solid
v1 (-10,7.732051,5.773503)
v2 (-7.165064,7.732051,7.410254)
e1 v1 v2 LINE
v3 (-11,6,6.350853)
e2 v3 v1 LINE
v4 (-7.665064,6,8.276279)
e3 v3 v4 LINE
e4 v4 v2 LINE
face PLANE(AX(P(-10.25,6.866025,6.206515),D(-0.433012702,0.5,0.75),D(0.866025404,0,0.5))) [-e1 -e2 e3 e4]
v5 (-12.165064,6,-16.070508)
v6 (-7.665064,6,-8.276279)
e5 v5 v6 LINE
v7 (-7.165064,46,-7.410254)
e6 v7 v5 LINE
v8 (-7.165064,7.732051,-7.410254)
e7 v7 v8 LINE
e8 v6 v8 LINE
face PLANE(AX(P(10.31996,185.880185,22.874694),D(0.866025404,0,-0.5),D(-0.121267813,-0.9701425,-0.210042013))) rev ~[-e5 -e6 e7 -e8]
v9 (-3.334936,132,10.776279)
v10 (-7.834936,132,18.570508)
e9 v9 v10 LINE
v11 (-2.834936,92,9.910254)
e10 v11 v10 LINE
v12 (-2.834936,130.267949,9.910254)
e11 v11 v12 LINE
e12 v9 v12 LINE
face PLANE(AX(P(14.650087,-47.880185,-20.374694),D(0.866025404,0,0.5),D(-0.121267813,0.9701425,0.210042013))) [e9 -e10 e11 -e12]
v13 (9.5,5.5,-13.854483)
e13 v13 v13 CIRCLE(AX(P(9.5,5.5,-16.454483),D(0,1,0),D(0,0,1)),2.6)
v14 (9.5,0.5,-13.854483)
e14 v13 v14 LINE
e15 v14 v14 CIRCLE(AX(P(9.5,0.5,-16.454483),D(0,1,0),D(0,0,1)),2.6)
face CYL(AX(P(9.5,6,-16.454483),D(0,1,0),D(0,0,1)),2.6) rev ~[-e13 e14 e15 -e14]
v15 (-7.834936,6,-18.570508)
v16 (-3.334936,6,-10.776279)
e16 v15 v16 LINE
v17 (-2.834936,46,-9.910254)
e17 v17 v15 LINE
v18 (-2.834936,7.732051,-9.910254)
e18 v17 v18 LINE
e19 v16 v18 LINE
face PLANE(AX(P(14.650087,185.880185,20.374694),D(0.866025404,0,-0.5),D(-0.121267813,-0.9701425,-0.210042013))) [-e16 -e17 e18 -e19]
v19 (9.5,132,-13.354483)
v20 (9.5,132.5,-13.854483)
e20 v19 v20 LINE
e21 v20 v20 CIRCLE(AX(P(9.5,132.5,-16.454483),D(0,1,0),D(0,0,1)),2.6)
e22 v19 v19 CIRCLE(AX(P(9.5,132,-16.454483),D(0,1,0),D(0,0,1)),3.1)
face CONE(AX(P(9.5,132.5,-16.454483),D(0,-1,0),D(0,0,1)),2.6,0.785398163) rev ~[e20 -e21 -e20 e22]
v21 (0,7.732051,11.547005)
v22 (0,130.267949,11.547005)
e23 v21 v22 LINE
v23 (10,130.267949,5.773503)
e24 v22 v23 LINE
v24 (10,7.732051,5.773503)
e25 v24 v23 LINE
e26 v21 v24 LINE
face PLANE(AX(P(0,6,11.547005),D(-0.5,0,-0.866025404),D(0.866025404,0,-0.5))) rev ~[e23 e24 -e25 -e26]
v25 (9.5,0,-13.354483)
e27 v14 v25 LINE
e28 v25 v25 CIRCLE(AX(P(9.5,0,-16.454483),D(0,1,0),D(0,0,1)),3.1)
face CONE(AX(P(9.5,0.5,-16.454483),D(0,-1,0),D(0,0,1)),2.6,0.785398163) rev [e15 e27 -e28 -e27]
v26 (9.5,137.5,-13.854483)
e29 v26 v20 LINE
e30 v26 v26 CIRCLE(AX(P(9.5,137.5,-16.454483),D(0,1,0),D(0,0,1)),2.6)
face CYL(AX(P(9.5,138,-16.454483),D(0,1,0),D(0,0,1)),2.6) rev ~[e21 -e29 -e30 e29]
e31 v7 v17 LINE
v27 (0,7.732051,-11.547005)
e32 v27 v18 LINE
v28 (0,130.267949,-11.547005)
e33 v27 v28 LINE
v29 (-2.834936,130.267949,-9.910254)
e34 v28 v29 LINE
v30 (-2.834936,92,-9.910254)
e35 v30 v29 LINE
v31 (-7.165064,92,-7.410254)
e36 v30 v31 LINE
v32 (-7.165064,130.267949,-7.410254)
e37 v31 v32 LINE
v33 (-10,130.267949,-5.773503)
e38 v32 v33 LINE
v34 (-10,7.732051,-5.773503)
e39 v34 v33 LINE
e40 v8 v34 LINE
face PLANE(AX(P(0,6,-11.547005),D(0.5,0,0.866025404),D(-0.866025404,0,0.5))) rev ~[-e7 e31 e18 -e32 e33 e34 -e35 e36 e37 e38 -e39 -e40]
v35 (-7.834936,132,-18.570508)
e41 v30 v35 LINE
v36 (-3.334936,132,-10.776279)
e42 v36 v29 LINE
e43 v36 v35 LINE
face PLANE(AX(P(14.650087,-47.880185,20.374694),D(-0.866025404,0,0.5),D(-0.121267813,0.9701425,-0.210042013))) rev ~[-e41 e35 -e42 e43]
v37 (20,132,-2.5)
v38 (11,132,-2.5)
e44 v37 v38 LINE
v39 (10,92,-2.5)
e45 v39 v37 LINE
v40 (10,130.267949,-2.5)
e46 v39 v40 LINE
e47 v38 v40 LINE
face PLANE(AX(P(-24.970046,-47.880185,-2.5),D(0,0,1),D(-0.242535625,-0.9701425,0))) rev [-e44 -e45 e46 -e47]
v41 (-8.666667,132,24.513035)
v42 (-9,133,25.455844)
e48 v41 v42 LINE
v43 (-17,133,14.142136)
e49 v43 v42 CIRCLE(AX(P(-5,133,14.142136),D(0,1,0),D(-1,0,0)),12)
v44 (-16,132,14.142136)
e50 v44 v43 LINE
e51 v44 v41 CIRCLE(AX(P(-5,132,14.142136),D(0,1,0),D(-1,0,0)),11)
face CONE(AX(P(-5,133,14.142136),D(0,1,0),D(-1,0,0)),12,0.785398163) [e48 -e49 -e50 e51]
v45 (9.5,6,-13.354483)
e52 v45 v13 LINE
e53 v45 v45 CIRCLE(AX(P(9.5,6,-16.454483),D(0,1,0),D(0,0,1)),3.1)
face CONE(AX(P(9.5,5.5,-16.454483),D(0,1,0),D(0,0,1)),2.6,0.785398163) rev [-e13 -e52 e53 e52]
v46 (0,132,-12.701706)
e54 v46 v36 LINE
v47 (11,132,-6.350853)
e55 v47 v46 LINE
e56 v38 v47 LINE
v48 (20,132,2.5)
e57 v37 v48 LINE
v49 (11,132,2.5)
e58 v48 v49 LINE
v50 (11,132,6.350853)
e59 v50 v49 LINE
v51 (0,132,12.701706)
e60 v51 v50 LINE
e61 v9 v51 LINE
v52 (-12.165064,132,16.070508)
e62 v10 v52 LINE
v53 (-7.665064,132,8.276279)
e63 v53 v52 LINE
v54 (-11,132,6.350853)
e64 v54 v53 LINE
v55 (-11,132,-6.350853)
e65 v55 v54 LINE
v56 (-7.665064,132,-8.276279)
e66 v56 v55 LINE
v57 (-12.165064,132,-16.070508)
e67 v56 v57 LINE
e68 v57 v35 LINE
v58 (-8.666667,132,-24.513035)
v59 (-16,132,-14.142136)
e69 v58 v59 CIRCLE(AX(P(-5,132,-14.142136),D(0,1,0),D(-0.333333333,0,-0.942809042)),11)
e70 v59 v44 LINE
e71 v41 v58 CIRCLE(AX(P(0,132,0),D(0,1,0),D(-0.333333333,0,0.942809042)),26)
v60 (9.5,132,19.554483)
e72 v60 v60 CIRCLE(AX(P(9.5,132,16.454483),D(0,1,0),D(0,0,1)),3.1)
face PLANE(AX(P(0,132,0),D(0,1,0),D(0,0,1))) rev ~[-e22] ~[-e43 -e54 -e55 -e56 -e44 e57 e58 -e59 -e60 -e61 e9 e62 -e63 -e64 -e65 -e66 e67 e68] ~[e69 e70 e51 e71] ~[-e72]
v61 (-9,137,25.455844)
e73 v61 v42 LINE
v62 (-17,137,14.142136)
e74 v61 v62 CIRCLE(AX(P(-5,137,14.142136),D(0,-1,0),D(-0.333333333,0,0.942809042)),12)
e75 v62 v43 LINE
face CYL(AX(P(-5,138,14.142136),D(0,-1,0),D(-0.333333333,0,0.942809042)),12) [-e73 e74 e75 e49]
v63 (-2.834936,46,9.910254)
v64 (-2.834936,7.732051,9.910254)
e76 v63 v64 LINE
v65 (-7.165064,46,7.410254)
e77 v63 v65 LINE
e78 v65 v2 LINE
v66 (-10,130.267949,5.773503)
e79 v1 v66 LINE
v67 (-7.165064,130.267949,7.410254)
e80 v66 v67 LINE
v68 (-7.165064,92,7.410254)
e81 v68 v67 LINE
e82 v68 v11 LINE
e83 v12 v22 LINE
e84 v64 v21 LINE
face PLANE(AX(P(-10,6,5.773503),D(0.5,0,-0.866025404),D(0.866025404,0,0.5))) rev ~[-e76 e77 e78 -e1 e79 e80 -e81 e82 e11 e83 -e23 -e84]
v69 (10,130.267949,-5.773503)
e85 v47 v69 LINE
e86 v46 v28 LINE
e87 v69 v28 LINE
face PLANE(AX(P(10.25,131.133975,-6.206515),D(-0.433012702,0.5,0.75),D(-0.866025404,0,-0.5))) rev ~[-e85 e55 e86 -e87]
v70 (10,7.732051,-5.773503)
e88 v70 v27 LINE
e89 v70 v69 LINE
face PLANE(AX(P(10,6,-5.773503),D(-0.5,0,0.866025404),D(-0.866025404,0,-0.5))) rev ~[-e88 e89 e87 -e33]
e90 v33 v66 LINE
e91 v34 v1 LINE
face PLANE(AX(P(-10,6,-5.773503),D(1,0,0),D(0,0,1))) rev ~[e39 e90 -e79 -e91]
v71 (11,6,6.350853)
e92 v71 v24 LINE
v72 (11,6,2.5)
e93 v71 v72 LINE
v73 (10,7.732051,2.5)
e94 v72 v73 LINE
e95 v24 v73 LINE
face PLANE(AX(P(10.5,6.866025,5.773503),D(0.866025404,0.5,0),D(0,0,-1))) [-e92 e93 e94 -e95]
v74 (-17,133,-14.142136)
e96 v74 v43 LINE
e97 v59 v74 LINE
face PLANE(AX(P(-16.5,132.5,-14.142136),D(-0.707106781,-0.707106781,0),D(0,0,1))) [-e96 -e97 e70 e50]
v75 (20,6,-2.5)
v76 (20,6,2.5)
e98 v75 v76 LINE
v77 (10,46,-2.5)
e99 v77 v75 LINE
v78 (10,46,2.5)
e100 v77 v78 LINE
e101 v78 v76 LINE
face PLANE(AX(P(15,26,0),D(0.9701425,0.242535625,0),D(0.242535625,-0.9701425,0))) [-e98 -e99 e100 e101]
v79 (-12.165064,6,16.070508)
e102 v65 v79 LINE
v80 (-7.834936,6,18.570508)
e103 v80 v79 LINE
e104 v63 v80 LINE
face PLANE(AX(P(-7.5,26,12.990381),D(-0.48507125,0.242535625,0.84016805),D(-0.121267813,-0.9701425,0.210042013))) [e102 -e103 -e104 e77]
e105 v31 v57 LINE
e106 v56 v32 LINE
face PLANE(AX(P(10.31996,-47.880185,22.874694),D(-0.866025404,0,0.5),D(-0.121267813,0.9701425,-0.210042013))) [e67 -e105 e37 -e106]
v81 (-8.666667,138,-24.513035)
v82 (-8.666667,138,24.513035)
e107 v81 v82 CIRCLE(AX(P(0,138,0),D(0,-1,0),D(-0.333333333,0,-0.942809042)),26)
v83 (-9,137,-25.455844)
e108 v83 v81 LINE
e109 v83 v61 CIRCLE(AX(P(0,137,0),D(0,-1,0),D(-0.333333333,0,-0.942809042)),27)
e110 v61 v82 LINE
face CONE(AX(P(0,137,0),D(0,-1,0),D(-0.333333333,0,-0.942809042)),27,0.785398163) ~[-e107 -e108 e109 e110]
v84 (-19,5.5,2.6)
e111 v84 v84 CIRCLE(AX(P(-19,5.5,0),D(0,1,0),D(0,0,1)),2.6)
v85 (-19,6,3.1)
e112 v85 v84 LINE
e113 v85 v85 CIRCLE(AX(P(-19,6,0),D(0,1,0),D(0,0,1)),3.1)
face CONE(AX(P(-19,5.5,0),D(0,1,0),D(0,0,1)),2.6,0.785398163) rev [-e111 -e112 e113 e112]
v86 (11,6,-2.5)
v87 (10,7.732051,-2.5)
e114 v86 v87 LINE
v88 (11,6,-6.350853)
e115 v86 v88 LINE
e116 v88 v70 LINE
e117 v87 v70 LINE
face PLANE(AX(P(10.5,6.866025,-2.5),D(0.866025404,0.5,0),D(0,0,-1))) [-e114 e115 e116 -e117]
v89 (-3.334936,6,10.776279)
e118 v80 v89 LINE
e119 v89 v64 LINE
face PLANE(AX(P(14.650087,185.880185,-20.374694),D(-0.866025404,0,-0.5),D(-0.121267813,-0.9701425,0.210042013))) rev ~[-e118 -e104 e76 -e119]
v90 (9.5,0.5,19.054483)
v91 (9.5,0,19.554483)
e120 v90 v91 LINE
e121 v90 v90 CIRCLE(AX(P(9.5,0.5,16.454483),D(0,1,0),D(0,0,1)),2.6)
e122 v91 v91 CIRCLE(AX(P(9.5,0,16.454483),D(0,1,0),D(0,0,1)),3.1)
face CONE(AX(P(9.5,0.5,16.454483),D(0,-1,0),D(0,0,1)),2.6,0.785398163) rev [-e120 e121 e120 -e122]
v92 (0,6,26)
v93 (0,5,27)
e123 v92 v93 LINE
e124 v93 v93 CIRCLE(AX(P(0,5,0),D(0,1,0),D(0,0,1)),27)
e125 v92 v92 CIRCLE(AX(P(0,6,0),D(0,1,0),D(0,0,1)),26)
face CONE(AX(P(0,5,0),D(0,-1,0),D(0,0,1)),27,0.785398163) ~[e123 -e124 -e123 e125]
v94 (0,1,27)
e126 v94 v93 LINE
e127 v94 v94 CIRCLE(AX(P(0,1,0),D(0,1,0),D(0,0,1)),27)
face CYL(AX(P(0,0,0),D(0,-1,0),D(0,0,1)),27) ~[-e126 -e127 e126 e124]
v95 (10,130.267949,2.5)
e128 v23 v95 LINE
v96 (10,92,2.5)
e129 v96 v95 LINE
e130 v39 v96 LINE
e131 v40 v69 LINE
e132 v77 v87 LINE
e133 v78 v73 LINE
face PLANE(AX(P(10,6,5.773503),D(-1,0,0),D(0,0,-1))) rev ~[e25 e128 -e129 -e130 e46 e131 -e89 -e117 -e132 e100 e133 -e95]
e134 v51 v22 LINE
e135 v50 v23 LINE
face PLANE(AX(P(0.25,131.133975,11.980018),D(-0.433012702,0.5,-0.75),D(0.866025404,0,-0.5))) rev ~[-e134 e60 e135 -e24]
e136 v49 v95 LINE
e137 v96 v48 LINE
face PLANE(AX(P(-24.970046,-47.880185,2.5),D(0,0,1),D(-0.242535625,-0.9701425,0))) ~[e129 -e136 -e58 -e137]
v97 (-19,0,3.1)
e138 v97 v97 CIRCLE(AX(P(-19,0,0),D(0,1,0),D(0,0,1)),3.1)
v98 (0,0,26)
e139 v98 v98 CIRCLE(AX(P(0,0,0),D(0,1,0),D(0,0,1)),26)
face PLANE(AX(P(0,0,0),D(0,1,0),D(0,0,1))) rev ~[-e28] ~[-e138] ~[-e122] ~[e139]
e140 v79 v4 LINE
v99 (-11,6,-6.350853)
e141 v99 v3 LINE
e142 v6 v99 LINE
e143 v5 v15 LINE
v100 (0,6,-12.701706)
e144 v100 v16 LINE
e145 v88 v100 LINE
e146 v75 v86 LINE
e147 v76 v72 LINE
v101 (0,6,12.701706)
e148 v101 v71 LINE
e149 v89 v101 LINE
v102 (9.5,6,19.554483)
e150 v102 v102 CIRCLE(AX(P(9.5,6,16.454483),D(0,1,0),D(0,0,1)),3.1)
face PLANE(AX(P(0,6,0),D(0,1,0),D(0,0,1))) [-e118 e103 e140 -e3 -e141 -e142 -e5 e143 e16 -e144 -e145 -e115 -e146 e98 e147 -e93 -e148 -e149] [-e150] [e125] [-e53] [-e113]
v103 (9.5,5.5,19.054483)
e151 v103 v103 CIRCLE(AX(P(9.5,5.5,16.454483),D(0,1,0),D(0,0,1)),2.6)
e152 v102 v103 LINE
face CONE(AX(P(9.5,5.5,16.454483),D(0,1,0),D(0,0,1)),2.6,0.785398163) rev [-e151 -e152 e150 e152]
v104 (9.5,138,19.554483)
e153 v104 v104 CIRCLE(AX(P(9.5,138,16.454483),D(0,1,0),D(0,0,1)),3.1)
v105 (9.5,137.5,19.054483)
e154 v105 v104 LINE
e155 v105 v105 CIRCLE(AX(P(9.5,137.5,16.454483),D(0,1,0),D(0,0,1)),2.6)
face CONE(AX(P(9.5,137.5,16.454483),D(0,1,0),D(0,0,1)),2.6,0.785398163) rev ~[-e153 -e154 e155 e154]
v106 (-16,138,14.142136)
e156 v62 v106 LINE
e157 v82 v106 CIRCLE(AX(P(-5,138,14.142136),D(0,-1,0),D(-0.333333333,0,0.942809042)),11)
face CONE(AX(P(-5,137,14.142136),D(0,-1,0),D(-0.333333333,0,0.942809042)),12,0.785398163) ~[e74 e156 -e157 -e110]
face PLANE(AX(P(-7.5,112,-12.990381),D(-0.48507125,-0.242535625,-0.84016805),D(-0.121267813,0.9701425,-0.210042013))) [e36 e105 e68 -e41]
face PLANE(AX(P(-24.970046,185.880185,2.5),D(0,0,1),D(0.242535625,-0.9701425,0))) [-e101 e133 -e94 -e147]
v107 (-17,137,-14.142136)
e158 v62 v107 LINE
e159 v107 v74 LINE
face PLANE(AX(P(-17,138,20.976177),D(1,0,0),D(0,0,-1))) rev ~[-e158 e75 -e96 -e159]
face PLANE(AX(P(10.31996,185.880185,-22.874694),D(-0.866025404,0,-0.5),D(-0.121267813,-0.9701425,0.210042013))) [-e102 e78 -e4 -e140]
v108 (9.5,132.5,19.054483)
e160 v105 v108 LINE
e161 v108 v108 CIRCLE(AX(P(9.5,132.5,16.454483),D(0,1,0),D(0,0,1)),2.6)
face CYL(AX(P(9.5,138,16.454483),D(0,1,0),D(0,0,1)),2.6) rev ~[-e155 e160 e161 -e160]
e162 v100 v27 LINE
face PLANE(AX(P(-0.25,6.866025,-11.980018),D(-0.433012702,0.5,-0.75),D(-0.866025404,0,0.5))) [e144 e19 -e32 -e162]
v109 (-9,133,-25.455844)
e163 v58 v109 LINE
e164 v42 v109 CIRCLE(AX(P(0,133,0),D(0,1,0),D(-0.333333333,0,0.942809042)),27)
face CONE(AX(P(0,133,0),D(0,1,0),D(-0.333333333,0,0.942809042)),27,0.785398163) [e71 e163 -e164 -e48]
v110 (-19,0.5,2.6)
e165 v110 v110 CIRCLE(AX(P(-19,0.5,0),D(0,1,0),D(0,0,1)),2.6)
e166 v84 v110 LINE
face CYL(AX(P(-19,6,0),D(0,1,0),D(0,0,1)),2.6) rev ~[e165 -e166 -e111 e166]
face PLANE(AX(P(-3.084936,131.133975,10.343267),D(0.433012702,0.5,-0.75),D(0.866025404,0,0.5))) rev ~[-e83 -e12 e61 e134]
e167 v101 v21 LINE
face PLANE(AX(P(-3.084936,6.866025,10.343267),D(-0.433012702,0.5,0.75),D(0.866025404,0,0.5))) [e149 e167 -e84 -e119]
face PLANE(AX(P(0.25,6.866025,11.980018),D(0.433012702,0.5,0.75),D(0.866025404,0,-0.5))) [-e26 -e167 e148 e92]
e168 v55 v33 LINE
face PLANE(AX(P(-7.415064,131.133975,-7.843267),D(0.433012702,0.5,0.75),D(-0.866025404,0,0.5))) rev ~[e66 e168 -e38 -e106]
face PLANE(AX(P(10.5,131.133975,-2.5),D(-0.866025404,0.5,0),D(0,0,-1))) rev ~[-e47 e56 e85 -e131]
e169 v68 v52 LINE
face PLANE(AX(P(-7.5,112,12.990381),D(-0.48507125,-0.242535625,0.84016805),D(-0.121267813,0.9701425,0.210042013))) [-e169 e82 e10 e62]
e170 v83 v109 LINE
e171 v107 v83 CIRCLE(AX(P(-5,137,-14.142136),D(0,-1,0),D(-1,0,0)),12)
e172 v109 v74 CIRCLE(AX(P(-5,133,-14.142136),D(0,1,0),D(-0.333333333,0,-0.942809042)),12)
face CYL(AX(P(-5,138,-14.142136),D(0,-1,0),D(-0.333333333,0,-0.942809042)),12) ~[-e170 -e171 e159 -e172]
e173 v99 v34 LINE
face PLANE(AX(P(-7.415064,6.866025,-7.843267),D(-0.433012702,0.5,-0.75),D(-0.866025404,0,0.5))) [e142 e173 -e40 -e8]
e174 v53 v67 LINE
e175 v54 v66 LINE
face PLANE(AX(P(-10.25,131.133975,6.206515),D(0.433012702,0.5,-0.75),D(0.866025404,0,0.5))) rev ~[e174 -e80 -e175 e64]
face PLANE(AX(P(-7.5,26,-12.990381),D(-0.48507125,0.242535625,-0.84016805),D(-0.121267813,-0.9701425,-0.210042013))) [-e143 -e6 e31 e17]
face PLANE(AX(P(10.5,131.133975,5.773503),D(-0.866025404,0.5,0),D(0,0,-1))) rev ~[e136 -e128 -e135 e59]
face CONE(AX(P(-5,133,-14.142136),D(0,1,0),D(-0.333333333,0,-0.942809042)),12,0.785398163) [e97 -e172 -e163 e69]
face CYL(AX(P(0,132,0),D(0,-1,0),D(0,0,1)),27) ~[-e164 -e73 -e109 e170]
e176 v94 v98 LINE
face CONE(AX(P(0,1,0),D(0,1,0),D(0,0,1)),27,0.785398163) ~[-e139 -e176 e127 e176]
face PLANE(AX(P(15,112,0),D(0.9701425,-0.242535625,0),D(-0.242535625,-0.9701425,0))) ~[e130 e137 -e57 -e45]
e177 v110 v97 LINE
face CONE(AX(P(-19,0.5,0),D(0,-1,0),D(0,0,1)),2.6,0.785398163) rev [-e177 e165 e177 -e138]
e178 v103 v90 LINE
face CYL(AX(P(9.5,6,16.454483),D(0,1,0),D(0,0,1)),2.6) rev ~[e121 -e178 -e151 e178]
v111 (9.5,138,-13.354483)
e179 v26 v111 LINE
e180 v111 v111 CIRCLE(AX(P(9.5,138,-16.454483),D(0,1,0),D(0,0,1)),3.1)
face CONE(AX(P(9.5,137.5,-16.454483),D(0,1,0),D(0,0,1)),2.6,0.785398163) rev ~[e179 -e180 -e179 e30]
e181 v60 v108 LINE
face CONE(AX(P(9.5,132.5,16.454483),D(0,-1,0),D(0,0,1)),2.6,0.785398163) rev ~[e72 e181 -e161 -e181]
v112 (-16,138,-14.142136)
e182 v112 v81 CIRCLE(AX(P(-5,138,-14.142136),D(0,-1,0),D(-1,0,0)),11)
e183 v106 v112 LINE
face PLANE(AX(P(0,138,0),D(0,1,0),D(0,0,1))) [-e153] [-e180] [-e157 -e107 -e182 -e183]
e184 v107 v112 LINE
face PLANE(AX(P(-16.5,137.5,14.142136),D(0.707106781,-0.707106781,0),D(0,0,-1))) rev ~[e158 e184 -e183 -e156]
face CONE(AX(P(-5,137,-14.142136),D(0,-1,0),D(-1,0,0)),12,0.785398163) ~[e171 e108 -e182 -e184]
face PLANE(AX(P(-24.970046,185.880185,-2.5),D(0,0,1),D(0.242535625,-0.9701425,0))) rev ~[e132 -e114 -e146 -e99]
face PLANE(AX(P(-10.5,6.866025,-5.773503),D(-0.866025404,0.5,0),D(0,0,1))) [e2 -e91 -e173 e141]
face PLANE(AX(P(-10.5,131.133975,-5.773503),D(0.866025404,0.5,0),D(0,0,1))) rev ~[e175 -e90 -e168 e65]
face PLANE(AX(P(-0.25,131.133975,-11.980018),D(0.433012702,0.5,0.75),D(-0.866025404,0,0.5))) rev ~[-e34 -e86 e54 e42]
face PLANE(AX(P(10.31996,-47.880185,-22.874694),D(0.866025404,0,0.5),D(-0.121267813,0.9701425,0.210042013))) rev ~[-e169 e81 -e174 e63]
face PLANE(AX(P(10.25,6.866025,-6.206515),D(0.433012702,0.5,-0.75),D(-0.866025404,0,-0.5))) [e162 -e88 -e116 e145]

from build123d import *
from OCP.BRepFilletAPI import BRepFilletAPI_MakeChamfer

# Parameters (mm, degrees)
SKETCH3_R               = 27
BOSS_EXTRUDE1_DEPTH     = 6
BOSS_EXTRUDE2_DEPTH     = 126
SKETCH19_R              = 27
BOSS_EXTRUDE3_DEPTH     = 6
CUT_EXTRUDE5_REACH      = 139.412
SKETCH13_R              = 2.6
CUT_EXTRUDE6_REACH      = 145.185
SKETCH20_R              = 2.6
CUT_EXTRUDE7_REACH      = 145.185
SKETCH21_W              = 10
SKETCH21_H              = 41.952353926
RIB3_REACH              = 145.185
SKETCH18_WALL_W         = 329.601445786
SKETCH18_WALL_H         = 5
CIRPATTERN1_COUNT       = 3
MIRROR2_COPY_1_REACH    = 145.185
MIRROR2_COPY_1_SKETCH_W = 329.601445786
MIRROR2_COPY_1_SKETCH_H = 5
MIRROR2_COPY_2_REACH    = 145.185
MIRROR2_COPY_2_SKETCH_W = 329.601445786
MIRROR2_COPY_2_SKETCH_H = 5
FILLET1_R               = 12
CHAMFER1_SIZE           = 1
CHAMFER1_SIZE2          = 1.732050808
CHAMFER2_SIZE           = 1
CHAMFER3_SIZE           = 0.5


with BuildPart() as part:
    # Sketch3 → Boss-Extrude1 (new body)
    with BuildSketch(Plane(origin=(0, 0, 0), x_dir=(1, 0, 0), z_dir=(0, 1, 0))):
        with Locations(Location((0, 0, 0), (0, 0, 270))):
            Circle(SKETCH3_R)
    extrude(amount=BOSS_EXTRUDE1_DEPTH)

    # Sketch4 → Boss-Extrude2 (add)
    with BuildSketch(Plane(origin=(0, 6, 0), x_dir=(1, 0, 0), z_dir=(0, 1, 0))):
        Polygon((10, -5.773502692), (10, 5.773502692), (0, 11.547005384), (-10, 5.773502692), (-10, -5.773502692), (0, -11.547005384), align=None)
    extrude(amount=BOSS_EXTRUDE2_DEPTH)

    # Sketch19 → Boss-Extrude3 (add)
    with BuildSketch(Plane(origin=(0, 132, 0), x_dir=(1, 0, 0), z_dir=(0, 1, 0))):
        with Locations(Location((0, 0, 0), (0, 0, 270))):
            Circle(SKETCH19_R)
    extrude(amount=BOSS_EXTRUDE3_DEPTH)

    # Sketch13 → Cut-Extrude5 (cut, up to next)
    with BuildSketch(Plane(origin=(0, 6, 0), x_dir=(1, 0, 0), z_dir=(0, 1, 0)), mode=Mode.PRIVATE) as cut_extrude5_sk1:
        with Locations(Location((-19, 0, 0), (0, 0, 270))):
            Circle(SKETCH13_R)
    cut_extrude5_tool1 = extrude(cut_extrude5_sk1.sketch, amount=-CUT_EXTRUDE5_REACH, mode=Mode.PRIVATE) & part.part
    # Sketch13 → Cut-Extrude5 (cut, up to next)
    with BuildSketch(Plane(origin=(0, 6, 0), x_dir=(1, 0, 0), z_dir=(0, 1, 0)), mode=Mode.PRIVATE) as cut_extrude5_sk2:
        with Locations(Location((9.5, 16.454482672, 0), (0, 0, 270))):
            Circle(SKETCH13_R)
    cut_extrude5_tool2 = extrude(cut_extrude5_sk2.sketch, amount=-CUT_EXTRUDE5_REACH, mode=Mode.PRIVATE) & part.part
    # Sketch13 → Cut-Extrude5 (cut, up to next)
    with BuildSketch(Plane(origin=(0, 6, 0), x_dir=(1, 0, 0), z_dir=(0, 1, 0)), mode=Mode.PRIVATE) as cut_extrude5_sk3:
        with Locations(Location((9.5, -16.454482672, 0), (0, 0, 270))):
            Circle(SKETCH13_R)
    cut_extrude5_tool3 = extrude(cut_extrude5_sk3.sketch, amount=-CUT_EXTRUDE5_REACH, mode=Mode.PRIVATE) & part.part
    add(cut_extrude5_tool1.solids().sort_by_distance((-19, 6, 0))[0], mode=Mode.SUBTRACT)
    add(cut_extrude5_tool2.solids().sort_by_distance((9.5, 6, -16.454483))[0], mode=Mode.SUBTRACT)
    add(cut_extrude5_tool3.solids().sort_by_distance((9.5, 6, 16.454483))[0], mode=Mode.SUBTRACT)

    # Sketch20 → Cut-Extrude6 (cut, up to next)
    with BuildSketch(Plane(origin=(0, 138, 0), x_dir=(1, 0, 0), z_dir=(0, 1, 0)), mode=Mode.PRIVATE) as cut_extrude6_sk1:
        with Locations(Location((9.5, 16.454482672, 0), (0, 0, 270))):
            Circle(SKETCH20_R)
    cut_extrude6_tool1 = extrude(cut_extrude6_sk1.sketch, amount=-CUT_EXTRUDE6_REACH, mode=Mode.PRIVATE) & part.part
    # Sketch20 → Cut-Extrude6 (cut, up to next)
    with BuildSketch(Plane(origin=(0, 138, 0), x_dir=(1, 0, 0), z_dir=(0, 1, 0)), mode=Mode.PRIVATE) as cut_extrude6_sk2:
        with Locations(Location((9.5, -16.454482672, 0), (0, 0, 270))):
            Circle(SKETCH20_R)
    cut_extrude6_tool2 = extrude(cut_extrude6_sk2.sketch, amount=-CUT_EXTRUDE6_REACH, mode=Mode.PRIVATE) & part.part
    add(cut_extrude6_tool1.solids().sort_by_distance((9.5, 138, -16.454483))[0], mode=Mode.SUBTRACT)
    add(cut_extrude6_tool2.solids().sort_by_distance((9.5, 138, 16.454483))[0], mode=Mode.SUBTRACT)

    # Sketch21 → Cut-Extrude7 (cut, up to next)
    with BuildSketch(Plane(origin=(0, 138, 0), x_dir=(1, 0, 0), z_dir=(0, 1, 0)), mode=Mode.PRIVATE) as cut_extrude7_sk1:
        with Locations((-22, 0)):
            Rectangle(SKETCH21_W, SKETCH21_H)
    cut_extrude7_tool1 = extrude(cut_extrude7_sk1.sketch, amount=-CUT_EXTRUDE7_REACH, mode=Mode.PRIVATE) & part.part
    add(cut_extrude7_tool1.solids().sort_by_distance((-22, 138, 0))[0], mode=Mode.SUBTRACT)

    # Sketch18 wall → Rib3 (add, up to next)
    with BuildSketch(Plane(origin=(15, 26, 0), x_dir=(0.242535625036, -0.970142500145, 0), z_dir=(0.970142500145, 0.242535625036, 0)), mode=Mode.PRIVATE) as rib3_sk1:
        Rectangle(SKETCH18_WALL_W, SKETCH18_WALL_H)
    rib3_tool1 = extrude(rib3_sk1.sketch, amount=-RIB3_REACH, mode=Mode.PRIVATE) - part.part
    rib3 = rib3_tool1.solids().sort_by_distance((15, 26, 0))[0]
    add(rib3)

    # CirPattern1: Rib3 ×3 about axis
    cirpattern1_axis = Axis((0, 0, 0), (0, 1, 0))
    for i in range(1, CIRPATTERN1_COUNT):
        add(rib3.rotate(cirpattern1_axis, i * 360 / CIRPATTERN1_COUNT))

    # Mirror2: Rib3 across plane
    add(rib3.mirror(Plane.ZX.offset(69)))

    # Mirror2 copy 1 sketch → Mirror2 copy 1 (add, up to next)
    with BuildSketch(Plane(origin=(-7.5, 112, -12.990381057), x_dir=(-0.12126781251799995, 0.970142500145, -0.21004201260391314), z_dir=(-0.4850712500724998, -0.242535625036, -0.8401680504165185)), mode=Mode.PRIVATE) as mirror2_copy_1_sk1:
        Rectangle(MIRROR2_COPY_1_SKETCH_W, MIRROR2_COPY_1_SKETCH_H)
    mirror2_copy_1_tool1 = extrude(mirror2_copy_1_sk1.sketch, amount=-MIRROR2_COPY_1_REACH, mode=Mode.PRIVATE) - part.part
    add(mirror2_copy_1_tool1.solids().sort_by_distance((-7.5, 112, -12.990381057))[0])

    # Mirror2 copy 2 sketch → Mirror2 copy 2 (add, up to next)
    with BuildSketch(Plane(origin=(-7.5, 112, 12.990381057), x_dir=(-0.12126781251800012, 0.970142500145, 0.21004201260391306), z_dir=(-0.48507125007250046, -0.242535625036, 0.8401680504165182)), mode=Mode.PRIVATE) as mirror2_copy_2_sk1:
        Rectangle(MIRROR2_COPY_2_SKETCH_W, MIRROR2_COPY_2_SKETCH_H)
    mirror2_copy_2_tool1 = extrude(mirror2_copy_2_sk1.sketch, amount=-MIRROR2_COPY_2_REACH, mode=Mode.PRIVATE) - part.part
    add(mirror2_copy_2_tool1.solids().sort_by_distance((-7.5, 112, 12.990381057))[0])

    # Fillet1
    fillet1_edges = [part.edges().sort_by_distance(p)[0] for p in [
        (-17, 135, 20.976176963),
        (-17, 135, -20.976176963),
    ]]
    fillet(fillet1_edges, radius=FILLET1_R)

    # Chamfer1: one chamfer whose edges measure the first distance from different faces: ONE call of the kernel's chamfer builder (chamfer() names one face for all edges)
    chamfer1_edges_1 = [part.edges().sort_by_distance(p)[0] for p in [
        (10, 132, 4.136751346),
        (5, 132, -8.660254038),
        (-1.417468245, 132, -10.728629711),
        (-10, 132, 0),
        (-8.582531755, 132, 6.591878365),
        (10, 132, -4.136751346),
        (-1.417468245, 132, 10.728629711),
        (-8.582531755, 132, -6.591878365),
        (5, 132, 8.660254038),
    ]]
    chamfer1_side_1 = [part.faces().sort_by_distance(p)[0] for p in [
        (26.303437009, 132, 0),
    ]]
    chamfer1_edges_2 = [part.edges().sort_by_distance(p)[0] for p in [
        (-1.417468245, 6, 10.728629711),
        (-8.582531755, 6, -6.591878365),
        (10, 6, -4.136751346),
        (5, 6, 8.660254038),
        (10, 6, 4.136751346),
        (5, 6, -8.660254038),
        (-1.417468245, 6, -10.728629711),
        (-10, 6, 0),
        (-8.582531755, 6, 6.591878365),
    ]]
    chamfer1_side_2 = [part.faces().sort_by_distance(p)[0] for p in [
        (0, 6, -26.236324676),
    ]]
    chamfer1 = BRepFilletAPI_MakeChamfer(part.part.solid().wrapped)
    for e in chamfer1_edges_1:
        chamfer1.Add(CHAMFER1_SIZE, CHAMFER1_SIZE2, e.wrapped, chamfer1_side_1[0].wrapped)  # the first distance lies on this face
    for e in chamfer1_edges_2:
        chamfer1.Add(CHAMFER1_SIZE, CHAMFER1_SIZE2, e.wrapped, chamfer1_side_2[0].wrapped)  # the first distance lies on this face
    add(Compound.cast(chamfer1.Shape()), mode=Mode.REPLACE)

    # Chamfer2
    chamfer2_edges = [part.edges().sort_by_distance(p)[0] for p in [
        (0, 0, -27),
        (-17, 138, 0),
        (-17, 132, 0),
        (27, 132, 0),
        (-14.797958971, 132, 21.070338854),
        (-14.797958971, 132, -21.070338854),
        (27, 138, 0),
        (-14.797958971, 138, 21.070338854),
        (-14.797958971, 138, -21.070338854),
        (0, 6, -27),
    ]]
    chamfer(chamfer2_edges, length=CHAMFER2_SIZE)

    # Chamfer3
    chamfer3_edges = [part.edges().sort_by_distance(p)[0] for p in [
        (-19, 6, -2.6),
        (-19, 0, -2.6),
        (9.5, 6, -19.054482672),
        (9.5, 0, -19.054482672),
        (9.5, 6, 13.854482672),
        (9.5, 0, 13.854482672),
        (9.5, 132, -19.054482672),
        (9.5, 138, -19.054482672),
        (9.5, 132, 13.854482672),
        (9.5, 138, 13.854482672),
    ]]
    chamfer(chamfer3_edges, length=CHAMFER3_SIZE)


solid = part.part
